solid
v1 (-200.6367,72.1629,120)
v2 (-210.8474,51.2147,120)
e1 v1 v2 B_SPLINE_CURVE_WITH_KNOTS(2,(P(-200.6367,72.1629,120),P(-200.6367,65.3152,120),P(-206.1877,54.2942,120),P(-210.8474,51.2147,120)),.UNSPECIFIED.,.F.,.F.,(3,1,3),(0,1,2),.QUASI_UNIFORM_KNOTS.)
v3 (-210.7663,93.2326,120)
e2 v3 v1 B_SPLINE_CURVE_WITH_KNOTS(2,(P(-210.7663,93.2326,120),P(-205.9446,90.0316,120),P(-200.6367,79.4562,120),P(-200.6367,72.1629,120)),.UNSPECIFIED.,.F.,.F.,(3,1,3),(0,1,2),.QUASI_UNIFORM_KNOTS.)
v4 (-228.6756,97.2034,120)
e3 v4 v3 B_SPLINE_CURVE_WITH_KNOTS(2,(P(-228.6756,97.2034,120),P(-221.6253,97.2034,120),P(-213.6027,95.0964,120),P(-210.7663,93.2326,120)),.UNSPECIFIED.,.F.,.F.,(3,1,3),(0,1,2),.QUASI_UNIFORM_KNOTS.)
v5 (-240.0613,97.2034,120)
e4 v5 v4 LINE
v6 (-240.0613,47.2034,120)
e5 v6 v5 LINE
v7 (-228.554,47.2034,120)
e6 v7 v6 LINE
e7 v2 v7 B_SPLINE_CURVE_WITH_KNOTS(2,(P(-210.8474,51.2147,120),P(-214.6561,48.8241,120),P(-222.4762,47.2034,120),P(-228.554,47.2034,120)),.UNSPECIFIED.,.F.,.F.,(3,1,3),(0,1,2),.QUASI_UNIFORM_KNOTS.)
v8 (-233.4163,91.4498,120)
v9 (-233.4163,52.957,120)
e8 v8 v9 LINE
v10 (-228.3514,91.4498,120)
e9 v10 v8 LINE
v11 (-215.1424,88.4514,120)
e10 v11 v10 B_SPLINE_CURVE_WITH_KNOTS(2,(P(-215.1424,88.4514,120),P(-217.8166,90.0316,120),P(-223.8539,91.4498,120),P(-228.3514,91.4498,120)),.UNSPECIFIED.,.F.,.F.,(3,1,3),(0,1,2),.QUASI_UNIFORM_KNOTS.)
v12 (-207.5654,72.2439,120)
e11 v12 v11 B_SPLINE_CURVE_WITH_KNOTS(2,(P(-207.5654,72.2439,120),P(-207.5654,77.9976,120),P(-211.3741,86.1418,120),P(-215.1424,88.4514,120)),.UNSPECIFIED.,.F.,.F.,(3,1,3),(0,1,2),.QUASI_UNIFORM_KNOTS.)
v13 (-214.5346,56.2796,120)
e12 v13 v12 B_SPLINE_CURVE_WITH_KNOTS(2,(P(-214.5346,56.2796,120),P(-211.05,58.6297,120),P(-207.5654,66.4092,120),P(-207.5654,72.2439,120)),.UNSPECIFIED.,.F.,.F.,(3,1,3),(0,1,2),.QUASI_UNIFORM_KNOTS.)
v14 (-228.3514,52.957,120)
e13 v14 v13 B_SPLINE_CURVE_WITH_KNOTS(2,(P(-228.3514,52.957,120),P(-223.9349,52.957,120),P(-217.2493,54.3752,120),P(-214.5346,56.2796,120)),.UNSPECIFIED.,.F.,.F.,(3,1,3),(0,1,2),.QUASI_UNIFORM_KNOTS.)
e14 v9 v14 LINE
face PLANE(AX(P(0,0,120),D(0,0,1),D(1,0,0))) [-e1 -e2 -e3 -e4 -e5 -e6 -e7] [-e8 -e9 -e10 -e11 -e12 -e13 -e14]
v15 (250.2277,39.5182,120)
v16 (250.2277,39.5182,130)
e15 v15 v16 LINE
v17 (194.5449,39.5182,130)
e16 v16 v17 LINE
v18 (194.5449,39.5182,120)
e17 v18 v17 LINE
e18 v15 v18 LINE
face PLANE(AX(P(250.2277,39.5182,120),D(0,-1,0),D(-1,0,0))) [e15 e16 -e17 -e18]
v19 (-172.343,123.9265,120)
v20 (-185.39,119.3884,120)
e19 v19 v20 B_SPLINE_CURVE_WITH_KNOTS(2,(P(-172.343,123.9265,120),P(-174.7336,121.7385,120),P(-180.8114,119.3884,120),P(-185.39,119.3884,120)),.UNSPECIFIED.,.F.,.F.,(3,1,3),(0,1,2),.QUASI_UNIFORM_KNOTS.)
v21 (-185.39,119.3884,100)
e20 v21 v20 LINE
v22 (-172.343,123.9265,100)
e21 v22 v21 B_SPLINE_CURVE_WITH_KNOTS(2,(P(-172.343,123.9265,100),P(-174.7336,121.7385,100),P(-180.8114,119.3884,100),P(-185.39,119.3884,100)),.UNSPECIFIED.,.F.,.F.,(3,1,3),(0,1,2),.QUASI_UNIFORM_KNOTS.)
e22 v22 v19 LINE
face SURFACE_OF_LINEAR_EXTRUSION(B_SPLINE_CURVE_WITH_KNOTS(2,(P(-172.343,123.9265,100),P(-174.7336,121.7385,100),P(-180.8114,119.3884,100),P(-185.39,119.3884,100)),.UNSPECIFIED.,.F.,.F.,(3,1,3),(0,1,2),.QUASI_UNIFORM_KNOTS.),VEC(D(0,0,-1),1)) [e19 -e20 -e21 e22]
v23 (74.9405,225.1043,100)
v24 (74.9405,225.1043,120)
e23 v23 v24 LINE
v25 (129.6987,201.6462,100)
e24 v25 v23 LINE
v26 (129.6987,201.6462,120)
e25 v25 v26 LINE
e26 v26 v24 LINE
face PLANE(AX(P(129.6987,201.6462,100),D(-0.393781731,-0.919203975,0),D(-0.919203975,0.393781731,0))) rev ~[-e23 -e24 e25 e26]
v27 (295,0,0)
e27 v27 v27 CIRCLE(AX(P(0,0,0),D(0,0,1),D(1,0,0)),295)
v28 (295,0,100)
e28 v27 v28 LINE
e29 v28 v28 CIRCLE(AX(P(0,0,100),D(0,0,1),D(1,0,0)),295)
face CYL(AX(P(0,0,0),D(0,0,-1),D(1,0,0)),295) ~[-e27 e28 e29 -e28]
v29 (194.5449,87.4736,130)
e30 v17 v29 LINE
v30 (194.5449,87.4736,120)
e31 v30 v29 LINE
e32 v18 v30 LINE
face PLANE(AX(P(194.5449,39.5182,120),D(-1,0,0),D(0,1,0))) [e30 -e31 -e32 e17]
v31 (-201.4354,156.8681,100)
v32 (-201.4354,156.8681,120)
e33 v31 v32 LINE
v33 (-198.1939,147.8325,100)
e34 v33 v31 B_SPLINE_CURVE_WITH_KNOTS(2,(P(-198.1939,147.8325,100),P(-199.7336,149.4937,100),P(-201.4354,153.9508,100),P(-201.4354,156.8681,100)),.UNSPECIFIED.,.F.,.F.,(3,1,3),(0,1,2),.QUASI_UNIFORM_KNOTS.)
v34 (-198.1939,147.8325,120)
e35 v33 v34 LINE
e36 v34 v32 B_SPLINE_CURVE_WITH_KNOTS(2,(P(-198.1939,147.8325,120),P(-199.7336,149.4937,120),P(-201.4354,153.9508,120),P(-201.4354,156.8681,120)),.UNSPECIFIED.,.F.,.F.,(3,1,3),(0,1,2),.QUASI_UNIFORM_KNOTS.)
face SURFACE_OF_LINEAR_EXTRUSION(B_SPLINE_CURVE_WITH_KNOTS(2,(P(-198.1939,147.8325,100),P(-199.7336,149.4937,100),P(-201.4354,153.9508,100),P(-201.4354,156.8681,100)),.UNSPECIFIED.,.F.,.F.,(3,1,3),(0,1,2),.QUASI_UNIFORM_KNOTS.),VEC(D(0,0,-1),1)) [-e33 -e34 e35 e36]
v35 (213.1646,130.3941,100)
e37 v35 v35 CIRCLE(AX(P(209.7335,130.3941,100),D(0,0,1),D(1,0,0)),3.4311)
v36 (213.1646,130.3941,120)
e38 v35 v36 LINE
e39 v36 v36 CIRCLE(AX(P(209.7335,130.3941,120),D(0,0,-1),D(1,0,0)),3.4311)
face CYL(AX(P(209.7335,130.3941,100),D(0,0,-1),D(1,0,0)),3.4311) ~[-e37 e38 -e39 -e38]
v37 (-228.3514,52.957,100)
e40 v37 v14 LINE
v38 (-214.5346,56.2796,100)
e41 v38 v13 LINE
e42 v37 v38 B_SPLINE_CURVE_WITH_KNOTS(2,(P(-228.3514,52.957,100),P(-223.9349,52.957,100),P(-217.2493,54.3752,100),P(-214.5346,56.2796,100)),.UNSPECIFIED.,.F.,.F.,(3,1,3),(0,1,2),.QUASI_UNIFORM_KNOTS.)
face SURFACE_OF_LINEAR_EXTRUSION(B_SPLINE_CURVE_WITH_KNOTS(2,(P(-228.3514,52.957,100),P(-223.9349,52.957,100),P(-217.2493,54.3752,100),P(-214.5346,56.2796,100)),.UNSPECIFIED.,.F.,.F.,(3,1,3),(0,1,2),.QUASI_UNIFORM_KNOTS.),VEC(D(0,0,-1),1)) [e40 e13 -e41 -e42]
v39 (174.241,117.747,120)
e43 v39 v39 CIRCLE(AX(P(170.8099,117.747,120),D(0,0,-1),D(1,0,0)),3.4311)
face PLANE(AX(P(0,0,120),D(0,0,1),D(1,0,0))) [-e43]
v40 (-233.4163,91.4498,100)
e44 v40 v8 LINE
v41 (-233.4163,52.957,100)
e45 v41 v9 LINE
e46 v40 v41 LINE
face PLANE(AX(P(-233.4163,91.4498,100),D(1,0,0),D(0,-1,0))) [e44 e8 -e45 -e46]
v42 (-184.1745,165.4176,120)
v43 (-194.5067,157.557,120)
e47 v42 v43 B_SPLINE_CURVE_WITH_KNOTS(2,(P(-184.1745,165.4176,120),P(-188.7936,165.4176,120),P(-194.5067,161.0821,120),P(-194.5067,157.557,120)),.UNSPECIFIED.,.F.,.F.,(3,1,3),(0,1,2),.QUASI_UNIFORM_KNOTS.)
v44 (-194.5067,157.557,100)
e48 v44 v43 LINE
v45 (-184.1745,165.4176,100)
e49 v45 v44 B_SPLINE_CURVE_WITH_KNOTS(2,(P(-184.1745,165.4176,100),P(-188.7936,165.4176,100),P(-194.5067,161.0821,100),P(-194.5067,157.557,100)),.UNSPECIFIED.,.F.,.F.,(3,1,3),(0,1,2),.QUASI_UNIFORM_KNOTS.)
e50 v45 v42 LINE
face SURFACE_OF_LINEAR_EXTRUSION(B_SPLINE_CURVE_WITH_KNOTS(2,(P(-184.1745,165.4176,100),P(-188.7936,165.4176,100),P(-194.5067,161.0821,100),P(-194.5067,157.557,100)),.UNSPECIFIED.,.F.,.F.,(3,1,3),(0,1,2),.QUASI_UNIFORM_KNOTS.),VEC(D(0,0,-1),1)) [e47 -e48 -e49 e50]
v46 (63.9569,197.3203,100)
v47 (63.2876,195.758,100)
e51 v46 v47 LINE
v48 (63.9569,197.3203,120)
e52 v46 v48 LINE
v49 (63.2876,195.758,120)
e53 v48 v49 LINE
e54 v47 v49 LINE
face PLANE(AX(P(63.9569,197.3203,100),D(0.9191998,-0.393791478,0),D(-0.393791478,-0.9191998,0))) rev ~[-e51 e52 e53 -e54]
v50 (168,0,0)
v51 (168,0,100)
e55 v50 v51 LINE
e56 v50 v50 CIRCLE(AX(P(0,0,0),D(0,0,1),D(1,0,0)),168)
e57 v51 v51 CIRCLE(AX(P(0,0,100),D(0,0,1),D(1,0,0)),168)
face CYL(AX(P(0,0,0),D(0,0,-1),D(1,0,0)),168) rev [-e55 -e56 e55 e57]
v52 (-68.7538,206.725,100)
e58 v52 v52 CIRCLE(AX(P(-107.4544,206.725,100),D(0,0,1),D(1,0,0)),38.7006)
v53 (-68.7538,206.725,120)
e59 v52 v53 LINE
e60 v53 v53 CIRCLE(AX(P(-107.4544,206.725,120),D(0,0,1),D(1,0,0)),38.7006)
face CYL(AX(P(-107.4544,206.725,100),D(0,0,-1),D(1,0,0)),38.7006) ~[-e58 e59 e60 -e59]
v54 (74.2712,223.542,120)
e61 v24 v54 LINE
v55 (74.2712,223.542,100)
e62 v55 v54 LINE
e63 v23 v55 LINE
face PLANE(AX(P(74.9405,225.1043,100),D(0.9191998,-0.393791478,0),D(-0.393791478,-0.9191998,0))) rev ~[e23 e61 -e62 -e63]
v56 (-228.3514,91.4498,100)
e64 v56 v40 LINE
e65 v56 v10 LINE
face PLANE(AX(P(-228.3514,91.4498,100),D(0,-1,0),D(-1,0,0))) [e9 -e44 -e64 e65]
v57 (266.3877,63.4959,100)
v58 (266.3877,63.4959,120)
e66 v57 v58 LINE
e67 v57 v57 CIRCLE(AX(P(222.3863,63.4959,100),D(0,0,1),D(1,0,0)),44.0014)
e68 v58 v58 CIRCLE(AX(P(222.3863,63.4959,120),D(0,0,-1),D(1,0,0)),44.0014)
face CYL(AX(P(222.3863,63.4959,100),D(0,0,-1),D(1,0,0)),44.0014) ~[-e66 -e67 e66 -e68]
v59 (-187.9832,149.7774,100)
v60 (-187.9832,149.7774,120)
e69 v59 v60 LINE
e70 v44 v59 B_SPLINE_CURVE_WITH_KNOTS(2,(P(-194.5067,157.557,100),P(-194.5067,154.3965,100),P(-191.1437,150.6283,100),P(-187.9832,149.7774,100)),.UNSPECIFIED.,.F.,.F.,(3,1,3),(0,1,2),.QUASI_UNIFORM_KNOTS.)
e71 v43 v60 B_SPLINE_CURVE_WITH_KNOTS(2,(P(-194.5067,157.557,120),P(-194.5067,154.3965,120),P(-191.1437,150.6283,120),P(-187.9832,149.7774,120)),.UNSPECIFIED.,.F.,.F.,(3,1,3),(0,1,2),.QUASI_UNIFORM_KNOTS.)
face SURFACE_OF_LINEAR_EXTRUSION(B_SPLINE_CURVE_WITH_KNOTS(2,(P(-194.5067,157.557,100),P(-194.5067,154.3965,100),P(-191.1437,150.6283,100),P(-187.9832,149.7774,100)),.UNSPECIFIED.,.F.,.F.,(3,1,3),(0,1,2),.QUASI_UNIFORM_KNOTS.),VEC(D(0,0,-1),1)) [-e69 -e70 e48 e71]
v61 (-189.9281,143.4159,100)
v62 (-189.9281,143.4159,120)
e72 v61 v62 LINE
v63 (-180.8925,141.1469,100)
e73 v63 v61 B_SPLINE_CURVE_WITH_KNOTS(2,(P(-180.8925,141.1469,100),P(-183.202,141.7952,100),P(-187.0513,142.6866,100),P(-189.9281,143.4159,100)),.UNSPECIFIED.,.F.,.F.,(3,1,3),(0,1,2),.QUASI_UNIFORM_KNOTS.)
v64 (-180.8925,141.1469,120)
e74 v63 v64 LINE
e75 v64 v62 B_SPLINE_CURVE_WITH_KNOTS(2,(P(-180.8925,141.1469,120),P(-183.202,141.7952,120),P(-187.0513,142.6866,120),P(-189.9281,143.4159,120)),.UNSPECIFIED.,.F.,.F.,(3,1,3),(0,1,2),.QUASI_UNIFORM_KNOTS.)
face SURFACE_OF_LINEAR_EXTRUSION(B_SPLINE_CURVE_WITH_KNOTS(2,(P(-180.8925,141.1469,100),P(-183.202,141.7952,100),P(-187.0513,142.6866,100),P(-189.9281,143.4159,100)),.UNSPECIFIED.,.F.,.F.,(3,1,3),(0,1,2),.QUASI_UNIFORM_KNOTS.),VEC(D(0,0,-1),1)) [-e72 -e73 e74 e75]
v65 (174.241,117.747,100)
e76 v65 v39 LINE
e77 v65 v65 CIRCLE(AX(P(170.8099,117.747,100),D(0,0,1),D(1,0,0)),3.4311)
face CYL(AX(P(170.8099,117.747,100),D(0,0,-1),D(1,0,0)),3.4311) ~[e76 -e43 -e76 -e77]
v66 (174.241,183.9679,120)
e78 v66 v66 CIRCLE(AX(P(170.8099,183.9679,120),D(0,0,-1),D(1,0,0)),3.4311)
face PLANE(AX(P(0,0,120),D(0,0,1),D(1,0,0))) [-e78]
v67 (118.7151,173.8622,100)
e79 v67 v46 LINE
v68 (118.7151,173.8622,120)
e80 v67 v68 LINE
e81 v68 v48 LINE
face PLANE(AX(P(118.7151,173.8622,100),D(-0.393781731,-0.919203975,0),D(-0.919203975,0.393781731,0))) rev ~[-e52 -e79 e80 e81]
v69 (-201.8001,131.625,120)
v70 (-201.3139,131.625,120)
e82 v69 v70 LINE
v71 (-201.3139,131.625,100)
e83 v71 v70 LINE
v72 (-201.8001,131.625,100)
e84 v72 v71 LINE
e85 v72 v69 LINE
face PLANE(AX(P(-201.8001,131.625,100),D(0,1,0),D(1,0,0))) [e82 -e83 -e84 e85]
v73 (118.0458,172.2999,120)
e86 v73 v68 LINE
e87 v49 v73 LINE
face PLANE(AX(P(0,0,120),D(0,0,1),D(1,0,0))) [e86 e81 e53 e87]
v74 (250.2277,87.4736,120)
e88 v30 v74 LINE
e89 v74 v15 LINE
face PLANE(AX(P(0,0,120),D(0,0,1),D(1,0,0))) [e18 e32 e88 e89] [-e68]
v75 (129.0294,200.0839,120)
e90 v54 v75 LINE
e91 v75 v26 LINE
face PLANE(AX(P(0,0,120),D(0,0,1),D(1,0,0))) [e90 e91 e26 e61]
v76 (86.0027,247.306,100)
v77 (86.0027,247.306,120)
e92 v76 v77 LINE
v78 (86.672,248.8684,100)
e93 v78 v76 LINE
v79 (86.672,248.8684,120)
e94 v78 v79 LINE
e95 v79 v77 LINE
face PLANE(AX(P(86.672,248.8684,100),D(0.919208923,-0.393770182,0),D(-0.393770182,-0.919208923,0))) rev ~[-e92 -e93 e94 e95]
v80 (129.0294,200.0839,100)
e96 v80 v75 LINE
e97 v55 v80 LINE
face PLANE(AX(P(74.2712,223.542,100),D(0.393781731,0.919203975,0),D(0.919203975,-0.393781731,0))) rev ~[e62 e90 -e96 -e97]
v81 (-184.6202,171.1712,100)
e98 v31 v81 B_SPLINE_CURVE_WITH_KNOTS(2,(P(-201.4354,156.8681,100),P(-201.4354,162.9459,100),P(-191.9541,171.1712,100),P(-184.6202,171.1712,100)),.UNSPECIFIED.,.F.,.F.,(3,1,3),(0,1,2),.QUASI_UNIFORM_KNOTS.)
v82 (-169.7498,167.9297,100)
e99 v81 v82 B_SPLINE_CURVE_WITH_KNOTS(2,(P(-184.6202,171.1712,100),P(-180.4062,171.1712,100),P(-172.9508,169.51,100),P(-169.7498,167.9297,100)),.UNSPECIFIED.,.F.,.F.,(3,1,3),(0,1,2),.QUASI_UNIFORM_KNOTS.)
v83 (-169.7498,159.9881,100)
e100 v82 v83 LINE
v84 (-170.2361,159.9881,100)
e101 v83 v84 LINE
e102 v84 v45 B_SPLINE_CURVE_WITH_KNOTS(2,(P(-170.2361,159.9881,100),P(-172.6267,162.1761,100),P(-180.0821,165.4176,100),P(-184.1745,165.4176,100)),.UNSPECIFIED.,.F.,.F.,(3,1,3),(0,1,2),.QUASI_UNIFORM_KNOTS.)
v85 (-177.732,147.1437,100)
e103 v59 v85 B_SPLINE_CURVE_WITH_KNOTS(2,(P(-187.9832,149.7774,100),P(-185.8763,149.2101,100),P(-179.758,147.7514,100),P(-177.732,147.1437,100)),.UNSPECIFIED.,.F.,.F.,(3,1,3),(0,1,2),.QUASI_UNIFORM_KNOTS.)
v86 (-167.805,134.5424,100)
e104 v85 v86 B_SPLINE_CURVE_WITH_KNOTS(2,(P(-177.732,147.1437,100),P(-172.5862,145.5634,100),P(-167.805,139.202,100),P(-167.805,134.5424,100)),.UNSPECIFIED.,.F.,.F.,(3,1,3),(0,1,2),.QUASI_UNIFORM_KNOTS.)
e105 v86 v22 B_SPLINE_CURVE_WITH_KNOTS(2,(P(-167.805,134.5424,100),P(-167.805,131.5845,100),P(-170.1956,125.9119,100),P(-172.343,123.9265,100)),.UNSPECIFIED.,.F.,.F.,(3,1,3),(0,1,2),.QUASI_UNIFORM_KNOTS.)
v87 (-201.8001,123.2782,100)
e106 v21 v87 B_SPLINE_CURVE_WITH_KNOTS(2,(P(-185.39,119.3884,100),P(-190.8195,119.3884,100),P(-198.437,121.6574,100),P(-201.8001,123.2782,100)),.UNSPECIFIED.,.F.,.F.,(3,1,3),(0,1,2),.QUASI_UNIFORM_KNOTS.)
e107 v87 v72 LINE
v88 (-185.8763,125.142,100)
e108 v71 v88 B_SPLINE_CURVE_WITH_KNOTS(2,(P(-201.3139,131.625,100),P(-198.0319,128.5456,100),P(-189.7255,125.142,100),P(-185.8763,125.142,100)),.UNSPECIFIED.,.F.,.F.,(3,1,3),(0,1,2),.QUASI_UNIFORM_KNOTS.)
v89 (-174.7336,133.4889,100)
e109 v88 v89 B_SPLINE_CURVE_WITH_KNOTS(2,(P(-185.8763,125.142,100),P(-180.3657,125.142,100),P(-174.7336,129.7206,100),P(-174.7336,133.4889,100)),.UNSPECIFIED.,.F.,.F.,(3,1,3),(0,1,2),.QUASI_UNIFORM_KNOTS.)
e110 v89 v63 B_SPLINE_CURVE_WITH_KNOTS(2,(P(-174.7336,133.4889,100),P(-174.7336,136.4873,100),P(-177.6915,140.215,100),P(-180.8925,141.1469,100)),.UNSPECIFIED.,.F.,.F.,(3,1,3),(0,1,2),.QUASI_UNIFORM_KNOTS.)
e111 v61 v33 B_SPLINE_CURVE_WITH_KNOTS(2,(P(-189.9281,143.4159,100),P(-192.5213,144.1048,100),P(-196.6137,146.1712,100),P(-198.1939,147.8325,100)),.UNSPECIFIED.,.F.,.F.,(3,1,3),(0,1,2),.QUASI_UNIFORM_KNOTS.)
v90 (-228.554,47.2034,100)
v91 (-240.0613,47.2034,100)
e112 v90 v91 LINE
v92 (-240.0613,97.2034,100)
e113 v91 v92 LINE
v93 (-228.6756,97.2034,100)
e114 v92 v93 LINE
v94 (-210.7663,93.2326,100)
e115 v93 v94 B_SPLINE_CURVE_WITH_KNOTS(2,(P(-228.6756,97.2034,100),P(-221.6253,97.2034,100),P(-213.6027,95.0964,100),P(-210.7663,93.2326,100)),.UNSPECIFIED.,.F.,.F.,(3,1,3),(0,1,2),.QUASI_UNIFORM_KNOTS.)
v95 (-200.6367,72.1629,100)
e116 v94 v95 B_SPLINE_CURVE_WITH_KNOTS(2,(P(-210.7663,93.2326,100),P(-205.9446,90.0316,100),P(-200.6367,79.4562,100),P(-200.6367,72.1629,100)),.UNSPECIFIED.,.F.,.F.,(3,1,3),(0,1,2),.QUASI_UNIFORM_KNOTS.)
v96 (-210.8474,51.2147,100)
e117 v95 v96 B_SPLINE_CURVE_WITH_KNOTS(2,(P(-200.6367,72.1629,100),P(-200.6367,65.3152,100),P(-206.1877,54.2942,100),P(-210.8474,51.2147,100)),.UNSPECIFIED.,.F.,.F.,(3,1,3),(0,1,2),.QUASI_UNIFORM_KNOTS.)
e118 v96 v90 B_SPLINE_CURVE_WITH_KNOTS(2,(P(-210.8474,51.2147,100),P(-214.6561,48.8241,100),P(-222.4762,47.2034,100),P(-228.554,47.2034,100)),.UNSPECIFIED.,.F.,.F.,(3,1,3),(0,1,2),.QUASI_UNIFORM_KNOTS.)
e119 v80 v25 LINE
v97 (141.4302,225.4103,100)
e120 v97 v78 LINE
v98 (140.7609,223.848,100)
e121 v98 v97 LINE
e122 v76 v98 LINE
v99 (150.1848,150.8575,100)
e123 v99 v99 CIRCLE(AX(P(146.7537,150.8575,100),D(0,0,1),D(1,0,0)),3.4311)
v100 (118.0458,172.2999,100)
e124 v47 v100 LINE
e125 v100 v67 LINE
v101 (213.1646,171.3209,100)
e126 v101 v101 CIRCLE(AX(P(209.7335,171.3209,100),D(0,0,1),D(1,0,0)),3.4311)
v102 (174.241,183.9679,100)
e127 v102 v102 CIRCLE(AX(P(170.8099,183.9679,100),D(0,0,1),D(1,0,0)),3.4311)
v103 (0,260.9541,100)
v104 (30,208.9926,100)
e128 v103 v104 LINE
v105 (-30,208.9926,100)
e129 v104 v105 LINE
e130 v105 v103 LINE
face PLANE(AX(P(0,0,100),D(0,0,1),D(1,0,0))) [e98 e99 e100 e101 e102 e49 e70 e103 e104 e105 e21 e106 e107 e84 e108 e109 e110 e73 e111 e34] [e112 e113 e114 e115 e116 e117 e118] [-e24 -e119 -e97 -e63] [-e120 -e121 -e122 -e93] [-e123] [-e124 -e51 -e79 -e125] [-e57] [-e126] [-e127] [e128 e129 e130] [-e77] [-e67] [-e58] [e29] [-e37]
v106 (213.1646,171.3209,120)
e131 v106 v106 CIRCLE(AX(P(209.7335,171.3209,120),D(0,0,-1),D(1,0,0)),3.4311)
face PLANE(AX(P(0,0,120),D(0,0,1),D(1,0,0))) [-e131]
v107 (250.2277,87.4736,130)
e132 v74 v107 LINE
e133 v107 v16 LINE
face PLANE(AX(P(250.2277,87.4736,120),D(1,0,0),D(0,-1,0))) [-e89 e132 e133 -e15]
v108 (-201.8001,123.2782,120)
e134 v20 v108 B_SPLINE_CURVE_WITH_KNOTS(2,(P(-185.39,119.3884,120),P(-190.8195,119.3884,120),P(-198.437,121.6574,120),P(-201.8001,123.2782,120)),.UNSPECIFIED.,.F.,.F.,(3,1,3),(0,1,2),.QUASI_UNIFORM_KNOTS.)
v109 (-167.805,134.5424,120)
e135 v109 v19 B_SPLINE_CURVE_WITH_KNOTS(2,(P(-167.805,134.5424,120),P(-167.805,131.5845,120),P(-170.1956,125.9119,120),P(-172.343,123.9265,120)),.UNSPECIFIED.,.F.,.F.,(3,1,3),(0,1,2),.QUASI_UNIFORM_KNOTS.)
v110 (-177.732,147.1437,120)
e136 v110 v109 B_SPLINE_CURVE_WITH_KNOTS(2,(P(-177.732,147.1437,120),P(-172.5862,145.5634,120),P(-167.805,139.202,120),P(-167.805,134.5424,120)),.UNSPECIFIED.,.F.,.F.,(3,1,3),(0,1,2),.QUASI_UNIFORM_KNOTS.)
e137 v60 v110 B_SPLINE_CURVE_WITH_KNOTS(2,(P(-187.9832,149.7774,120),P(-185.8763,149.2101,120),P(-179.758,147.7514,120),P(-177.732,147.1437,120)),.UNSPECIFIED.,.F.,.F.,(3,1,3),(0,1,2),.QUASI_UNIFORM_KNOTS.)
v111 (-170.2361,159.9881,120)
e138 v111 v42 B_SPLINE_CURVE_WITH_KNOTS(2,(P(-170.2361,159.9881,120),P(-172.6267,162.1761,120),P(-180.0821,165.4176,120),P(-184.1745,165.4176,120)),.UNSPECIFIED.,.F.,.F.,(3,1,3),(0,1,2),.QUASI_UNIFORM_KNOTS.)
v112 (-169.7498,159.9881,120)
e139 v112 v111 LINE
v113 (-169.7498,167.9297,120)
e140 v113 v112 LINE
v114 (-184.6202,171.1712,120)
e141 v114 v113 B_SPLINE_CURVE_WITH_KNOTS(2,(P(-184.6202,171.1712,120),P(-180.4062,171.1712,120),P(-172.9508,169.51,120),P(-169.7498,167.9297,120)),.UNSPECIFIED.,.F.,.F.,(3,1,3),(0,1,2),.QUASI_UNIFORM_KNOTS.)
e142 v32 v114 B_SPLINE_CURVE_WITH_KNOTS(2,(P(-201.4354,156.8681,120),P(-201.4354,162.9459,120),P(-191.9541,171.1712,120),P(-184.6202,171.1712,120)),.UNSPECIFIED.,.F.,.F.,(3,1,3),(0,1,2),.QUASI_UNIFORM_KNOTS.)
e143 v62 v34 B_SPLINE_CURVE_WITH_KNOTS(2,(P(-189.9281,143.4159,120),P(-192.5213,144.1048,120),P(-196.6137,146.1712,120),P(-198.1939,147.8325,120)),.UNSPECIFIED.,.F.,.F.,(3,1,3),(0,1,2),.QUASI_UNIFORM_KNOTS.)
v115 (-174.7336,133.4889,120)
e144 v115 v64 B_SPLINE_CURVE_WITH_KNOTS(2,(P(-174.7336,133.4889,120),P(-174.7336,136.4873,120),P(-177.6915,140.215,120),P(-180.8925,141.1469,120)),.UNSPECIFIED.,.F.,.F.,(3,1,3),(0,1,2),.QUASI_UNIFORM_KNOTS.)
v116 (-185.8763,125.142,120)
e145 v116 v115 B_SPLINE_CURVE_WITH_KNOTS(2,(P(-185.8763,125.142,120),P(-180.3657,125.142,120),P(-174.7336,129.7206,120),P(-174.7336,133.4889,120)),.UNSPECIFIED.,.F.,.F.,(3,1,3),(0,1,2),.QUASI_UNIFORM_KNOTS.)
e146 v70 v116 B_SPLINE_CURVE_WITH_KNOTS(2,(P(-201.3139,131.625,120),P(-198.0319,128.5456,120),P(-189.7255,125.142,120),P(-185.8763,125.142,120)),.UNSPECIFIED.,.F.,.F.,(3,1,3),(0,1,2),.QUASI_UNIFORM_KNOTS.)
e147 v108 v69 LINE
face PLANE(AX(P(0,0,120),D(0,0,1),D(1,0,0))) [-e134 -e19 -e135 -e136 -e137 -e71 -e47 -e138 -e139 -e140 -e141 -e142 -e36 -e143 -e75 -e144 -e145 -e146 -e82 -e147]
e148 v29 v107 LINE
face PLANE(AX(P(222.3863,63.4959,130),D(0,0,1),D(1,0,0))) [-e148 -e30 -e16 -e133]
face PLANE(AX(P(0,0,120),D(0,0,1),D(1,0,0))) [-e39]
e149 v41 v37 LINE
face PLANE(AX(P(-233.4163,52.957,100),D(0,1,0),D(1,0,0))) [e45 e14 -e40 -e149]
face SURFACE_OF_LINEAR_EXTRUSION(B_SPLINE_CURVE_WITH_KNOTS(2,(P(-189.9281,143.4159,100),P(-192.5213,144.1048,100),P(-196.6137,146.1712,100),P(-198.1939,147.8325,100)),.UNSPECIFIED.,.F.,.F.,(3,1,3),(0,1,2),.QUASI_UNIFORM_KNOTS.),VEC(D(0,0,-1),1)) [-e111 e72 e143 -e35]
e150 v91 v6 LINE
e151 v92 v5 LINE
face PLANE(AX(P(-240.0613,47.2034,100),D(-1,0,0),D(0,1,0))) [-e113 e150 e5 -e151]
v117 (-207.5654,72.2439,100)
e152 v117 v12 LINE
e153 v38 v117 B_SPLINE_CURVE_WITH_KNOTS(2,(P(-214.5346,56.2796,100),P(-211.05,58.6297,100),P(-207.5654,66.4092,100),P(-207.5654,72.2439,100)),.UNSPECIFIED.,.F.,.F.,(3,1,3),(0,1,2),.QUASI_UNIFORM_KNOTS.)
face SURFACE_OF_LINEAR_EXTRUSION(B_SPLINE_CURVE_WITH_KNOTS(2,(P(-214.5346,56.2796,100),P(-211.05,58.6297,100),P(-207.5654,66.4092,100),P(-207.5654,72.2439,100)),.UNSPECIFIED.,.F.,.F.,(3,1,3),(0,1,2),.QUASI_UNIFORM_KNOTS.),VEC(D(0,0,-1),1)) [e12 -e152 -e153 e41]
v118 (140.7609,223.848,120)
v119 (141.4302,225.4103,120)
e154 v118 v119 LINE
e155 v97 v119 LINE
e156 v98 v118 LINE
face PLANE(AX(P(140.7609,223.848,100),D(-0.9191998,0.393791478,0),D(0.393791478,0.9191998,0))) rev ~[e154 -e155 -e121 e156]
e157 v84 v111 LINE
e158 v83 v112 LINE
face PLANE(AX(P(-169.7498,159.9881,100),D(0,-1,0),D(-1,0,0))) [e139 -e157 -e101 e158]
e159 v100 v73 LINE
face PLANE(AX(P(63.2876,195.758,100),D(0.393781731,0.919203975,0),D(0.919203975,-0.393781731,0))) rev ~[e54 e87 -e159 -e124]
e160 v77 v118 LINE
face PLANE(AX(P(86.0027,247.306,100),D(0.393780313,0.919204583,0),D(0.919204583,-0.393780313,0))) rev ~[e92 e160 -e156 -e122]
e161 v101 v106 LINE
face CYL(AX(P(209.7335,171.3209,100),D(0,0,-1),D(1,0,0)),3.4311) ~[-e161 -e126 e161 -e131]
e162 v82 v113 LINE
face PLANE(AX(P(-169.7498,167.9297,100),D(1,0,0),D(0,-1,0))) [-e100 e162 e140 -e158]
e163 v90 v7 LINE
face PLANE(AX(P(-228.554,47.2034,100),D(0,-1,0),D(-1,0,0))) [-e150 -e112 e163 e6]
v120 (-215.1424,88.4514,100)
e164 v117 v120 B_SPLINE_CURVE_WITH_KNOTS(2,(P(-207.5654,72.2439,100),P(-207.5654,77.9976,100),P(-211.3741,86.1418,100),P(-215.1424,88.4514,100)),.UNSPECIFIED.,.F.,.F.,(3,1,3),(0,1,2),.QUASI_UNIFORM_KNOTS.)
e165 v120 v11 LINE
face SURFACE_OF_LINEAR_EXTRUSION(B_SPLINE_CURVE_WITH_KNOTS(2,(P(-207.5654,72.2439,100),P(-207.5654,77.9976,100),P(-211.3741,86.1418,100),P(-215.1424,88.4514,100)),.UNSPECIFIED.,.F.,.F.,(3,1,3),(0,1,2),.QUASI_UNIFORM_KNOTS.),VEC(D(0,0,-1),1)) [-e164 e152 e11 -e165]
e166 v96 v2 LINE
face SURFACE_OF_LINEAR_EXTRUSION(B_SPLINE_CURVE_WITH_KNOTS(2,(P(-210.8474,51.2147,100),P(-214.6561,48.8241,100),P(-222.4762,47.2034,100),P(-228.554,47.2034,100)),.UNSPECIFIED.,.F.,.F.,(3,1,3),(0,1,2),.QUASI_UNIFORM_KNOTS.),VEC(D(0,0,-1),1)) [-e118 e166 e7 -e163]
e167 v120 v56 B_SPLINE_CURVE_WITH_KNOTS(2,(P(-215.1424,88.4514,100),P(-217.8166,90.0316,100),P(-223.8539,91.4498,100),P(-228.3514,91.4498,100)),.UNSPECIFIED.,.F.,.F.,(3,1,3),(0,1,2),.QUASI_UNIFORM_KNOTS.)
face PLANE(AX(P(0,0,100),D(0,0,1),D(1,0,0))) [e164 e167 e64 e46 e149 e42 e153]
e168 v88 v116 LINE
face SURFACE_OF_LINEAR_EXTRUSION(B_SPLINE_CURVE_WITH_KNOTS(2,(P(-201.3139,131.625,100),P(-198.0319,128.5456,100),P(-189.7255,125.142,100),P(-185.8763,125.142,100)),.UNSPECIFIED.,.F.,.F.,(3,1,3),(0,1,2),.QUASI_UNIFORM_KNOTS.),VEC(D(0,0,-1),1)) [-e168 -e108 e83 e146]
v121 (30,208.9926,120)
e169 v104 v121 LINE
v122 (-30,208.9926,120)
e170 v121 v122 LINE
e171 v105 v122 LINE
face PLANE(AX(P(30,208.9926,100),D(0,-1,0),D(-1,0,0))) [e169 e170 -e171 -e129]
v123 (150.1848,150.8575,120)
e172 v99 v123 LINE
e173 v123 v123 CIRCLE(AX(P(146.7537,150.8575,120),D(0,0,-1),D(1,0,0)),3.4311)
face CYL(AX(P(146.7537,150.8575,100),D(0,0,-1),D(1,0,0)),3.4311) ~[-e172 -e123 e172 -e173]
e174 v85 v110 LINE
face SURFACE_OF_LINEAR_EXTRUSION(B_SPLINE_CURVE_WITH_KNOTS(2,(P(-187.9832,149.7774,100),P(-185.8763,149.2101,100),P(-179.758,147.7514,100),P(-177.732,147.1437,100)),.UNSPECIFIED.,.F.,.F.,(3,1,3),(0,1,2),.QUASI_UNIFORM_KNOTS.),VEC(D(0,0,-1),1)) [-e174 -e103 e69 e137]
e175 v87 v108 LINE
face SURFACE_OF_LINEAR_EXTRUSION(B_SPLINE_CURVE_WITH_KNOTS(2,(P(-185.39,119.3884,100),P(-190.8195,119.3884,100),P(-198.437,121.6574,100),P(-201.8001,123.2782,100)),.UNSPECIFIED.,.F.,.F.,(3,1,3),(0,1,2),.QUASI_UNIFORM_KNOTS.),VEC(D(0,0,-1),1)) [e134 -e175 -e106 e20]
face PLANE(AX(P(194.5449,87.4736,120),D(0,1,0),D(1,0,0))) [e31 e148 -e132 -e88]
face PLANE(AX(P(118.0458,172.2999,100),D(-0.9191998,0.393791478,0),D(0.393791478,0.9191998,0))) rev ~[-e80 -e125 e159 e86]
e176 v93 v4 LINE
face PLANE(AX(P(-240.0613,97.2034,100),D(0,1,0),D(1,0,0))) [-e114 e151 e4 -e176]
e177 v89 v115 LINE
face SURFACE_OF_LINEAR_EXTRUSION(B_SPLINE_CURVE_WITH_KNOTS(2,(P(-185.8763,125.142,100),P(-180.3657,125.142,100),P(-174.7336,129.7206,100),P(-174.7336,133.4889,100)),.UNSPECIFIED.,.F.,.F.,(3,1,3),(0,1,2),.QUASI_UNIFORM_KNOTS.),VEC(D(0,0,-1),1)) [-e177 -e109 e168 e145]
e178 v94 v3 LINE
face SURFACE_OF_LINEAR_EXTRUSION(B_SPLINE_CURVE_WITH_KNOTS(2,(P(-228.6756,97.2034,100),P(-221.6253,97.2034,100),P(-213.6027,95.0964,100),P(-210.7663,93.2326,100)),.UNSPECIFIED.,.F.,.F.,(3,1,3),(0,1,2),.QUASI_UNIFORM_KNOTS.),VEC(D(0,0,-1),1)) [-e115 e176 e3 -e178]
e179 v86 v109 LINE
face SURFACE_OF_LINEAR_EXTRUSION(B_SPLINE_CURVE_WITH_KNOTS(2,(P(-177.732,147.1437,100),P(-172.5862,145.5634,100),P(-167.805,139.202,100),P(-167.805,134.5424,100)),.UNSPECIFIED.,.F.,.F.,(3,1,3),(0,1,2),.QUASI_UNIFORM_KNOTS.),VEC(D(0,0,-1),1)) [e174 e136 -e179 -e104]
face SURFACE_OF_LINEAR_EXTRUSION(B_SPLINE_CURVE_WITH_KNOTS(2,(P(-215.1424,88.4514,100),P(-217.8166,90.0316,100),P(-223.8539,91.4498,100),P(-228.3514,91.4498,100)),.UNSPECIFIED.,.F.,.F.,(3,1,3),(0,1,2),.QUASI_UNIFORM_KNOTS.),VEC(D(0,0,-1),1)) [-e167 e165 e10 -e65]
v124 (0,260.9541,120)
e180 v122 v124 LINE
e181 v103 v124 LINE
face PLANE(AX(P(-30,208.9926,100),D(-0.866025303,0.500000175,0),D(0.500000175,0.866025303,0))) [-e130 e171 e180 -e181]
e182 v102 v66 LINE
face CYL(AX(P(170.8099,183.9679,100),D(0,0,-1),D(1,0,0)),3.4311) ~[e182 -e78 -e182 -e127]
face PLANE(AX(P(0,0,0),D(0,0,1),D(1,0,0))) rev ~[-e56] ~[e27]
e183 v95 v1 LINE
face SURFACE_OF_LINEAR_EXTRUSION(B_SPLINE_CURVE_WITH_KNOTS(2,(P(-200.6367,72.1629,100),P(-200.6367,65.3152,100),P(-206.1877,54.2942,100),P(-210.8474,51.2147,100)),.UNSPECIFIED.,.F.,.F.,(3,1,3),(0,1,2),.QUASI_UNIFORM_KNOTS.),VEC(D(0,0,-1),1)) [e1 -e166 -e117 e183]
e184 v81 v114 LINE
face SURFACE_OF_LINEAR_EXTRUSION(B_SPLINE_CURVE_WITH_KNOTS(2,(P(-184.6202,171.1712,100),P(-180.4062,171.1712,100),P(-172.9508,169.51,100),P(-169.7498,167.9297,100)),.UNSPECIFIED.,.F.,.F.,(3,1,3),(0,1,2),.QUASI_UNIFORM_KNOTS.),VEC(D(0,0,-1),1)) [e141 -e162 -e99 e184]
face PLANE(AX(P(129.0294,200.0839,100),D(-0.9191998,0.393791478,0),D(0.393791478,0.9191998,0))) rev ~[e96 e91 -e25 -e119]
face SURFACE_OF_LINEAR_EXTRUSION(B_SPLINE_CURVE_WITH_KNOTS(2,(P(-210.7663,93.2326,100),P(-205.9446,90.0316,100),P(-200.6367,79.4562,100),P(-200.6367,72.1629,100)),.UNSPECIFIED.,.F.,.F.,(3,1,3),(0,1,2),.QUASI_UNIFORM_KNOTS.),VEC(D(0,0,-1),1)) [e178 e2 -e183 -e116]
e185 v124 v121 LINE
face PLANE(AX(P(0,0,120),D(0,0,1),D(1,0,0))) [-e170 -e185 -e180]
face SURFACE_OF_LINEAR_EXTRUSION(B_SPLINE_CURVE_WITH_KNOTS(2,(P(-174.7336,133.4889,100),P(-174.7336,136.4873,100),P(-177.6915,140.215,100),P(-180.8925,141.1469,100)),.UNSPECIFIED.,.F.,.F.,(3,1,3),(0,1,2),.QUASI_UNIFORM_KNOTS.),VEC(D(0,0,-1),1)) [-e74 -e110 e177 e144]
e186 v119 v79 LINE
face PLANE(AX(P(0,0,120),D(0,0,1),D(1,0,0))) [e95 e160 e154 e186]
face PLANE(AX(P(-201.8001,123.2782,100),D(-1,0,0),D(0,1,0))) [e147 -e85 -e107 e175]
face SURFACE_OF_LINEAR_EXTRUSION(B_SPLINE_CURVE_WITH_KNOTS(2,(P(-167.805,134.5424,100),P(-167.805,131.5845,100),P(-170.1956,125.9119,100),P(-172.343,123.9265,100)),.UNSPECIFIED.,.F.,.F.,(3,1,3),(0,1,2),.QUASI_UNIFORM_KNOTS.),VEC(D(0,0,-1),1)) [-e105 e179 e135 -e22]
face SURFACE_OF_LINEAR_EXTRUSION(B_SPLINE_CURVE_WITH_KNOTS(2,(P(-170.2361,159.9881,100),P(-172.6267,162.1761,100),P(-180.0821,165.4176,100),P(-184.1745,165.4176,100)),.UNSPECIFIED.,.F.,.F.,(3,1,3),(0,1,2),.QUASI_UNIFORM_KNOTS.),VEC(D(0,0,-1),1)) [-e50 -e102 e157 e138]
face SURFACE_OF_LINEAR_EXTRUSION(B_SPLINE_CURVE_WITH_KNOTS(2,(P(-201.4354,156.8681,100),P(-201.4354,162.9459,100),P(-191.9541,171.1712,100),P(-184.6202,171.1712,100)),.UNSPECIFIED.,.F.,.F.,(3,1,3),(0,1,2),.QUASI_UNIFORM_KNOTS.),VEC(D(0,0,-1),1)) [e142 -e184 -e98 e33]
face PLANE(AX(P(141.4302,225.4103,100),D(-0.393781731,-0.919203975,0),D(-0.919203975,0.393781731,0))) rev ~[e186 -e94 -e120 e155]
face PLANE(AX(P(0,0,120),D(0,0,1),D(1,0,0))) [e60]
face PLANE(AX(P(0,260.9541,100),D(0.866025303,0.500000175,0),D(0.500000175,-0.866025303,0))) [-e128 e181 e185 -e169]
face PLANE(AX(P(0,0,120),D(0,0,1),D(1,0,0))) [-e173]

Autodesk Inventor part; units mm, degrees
ref_plane "YZ Plane" through (0, 0, 0) normal (1, 0, 0) x (0, 1, 0)
ref_plane "XZ Plane" through (0, 0, 0) normal (0, 1, 0) x (-1, 0, 0)
ref_plane "XY Plane" through (0, 0, 0) normal (0, 0, 1) x (1, 0, 0)
sketch "Sketch1" plane through (0, 0, 0) normal (0, 0, 1) x (1, 0, 0)
  circle A0 centre (0, 0) radius 295
  circle A1 centre (0, 0) radius 168
  dimension "d0" = 590
  dimension "d1" = 336
extrude "Extrusion1" add sketch "Sketch1" along normal blind 100
sketch "Sketch2" plane through (0, 0, 100) normal (0, 0, 1) x (1, 0, 0)
  line L0 (-204.3933, 171.1712) -> (-160.5291, 171.1712) construction
  line L1 (-160.5291, 171.1712) -> (-160.5291, 111.0696) construction
  line L2 (-160.5291, 111.0696) -> (-204.3933, 111.0696) construction
  line L3 (-204.3933, 111.0696) -> (-204.3933, 171.1712) construction
  line L4 (-245.1262, 97.2034) -> (-201.262, 97.2034) construction
  line L5 (-201.262, 97.2034) -> (-201.262, 37.1018) construction
  line L6 (-201.262, 37.1018) -> (-245.1262, 37.1018) construction
  line L7 (-245.1262, 37.1018) -> (-245.1262, 97.2034) construction
  spline S0 degree 2 poles (-185.39, 119.3884) (-190.8195, 119.3884) (-198.437, 121.6574) (-201.8001, 123.2782) knots 0 0 0 1 2 2 2
  line L8 (-201.8001, 123.2782) -> (-201.8001, 131.625)
  line L9 (-201.8001, 131.625) -> (-201.3139, 131.625)
  spline S1 degree 2 poles (-201.3139, 131.625) (-198.0319, 128.5456) (-189.7255, 125.142) (-185.8763, 125.142) knots 0 0 0 1 2 2 2
  spline S2 degree 2 poles (-185.8763, 125.142) (-180.3657, 125.142) (-174.7336, 129.7206) (-174.7336, 133.4889) knots 0 0 0 1 2 2 2
  spline S3 degree 2 poles (-174.7336, 133.4889) (-174.7336, 136.4873) (-177.6915, 140.215) (-180.8925, 141.1469) knots 0 0 0 1 2 2 2
  spline S4 degree 2 poles (-180.8925, 141.1469) (-183.202, 141.7952) (-187.0513, 142.6866) (-189.9281, 143.4159) knots 0 0 0 1 2 2 2
  spline S5 degree 2 poles (-189.9281, 143.4159) (-192.5213, 144.1048) (-196.6137, 146.1712) (-198.1939, 147.8325) knots 0 0 0 1 2 2 2
  spline S6 degree 2 poles (-198.1939, 147.8325) (-199.7336, 149.4937) (-201.4354, 153.9508) (-201.4354, 156.8681) knots 0 0 0 1 2 2 2
  spline S7 degree 2 poles (-201.4354, 156.8681) (-201.4354, 162.9459) (-191.9541, 171.1712) (-184.6202, 171.1712) knots 0 0 0 1 2 2 2
  spline S8 degree 2 poles (-184.6202, 171.1712) (-180.4062, 171.1712) (-172.9508, 169.51) (-169.7498, 167.9297) knots 0 0 0 1 2 2 2
  line L10 (-169.7498, 167.9297) -> (-169.7498, 159.9881)
  line L11 (-169.7498, 159.9881) -> (-170.2361, 159.9881)
  spline S9 degree 2 poles (-170.2361, 159.9881) (-172.6267, 162.1761) (-180.0821, 165.4176) (-184.1745, 165.4176) knots 0 0 0 1 2 2 2
  spline S10 degree 2 poles (-184.1745, 165.4176) (-188.7936, 165.4176) (-194.5067, 161.0821) (-194.5067, 157.557) knots 0 0 0 1 2 2 2
  spline S11 degree 2 poles (-194.5067, 157.557) (-194.5067, 154.3965) (-191.1437, 150.6283) (-187.9832, 149.7774) knots 0 0 0 1 2 2 2
  spline S12 degree 2 poles (-187.9832, 149.7774) (-185.8763, 149.2101) (-179.758, 147.7514) (-177.732, 147.1437) knots 0 0 0 1 2 2 2
  spline S13 degree 2 poles (-177.732, 147.1437) (-172.5862, 145.5634) (-167.805, 139.202) (-167.805, 134.5424) knots 0 0 0 1 2 2 2
  spline S14 degree 2 poles (-167.805, 134.5424) (-167.805, 131.5845) (-170.1956, 125.9119) (-172.343, 123.9265) knots 0 0 0 1 2 2 2
  spline S15 degree 2 poles (-172.343, 123.9265) (-174.7336, 121.7385) (-180.8114, 119.3884) (-185.39, 119.3884) knots 0 0 0 1 2 2 2
  spline S16 degree 2 poles (-200.6367, 72.1629) (-200.6367, 65.3152) (-206.1877, 54.2942) (-210.8474, 51.2147) knots 0 0 0 1 2 2 2
  spline S17 degree 2 poles (-210.8474, 51.2147) (-214.6561, 48.8241) (-222.4762, 47.2034) (-228.554, 47.2034) knots 0 0 0 1 2 2 2
  line L12 (-228.554, 47.2034) -> (-240.0613, 47.2034)
  line L13 (-240.0613, 47.2034) -> (-240.0613, 97.2034)
  line L14 (-240.0613, 97.2034) -> (-228.6756, 97.2034)
  spline S18 degree 2 poles (-228.6756, 97.2034) (-221.6253, 97.2034) (-213.6027, 95.0964) (-210.7663, 93.2326) knots 0 0 0 1 2 2 2
  spline S19 degree 2 poles (-210.7663, 93.2326) (-205.9446, 90.0316) (-200.6367, 79.4562) (-200.6367, 72.1629) knots 0 0 0 1 2 2 2
  spline S20 degree 2 poles (-207.5654, 72.2439) (-207.5654, 77.9976) (-211.3741, 86.1418) (-215.1424, 88.4514) knots 0 0 0 1 2 2 2
  spline S21 degree 2 poles (-215.1424, 88.4514) (-217.8166, 90.0316) (-223.8539, 91.4498) (-228.3514, 91.4498) knots 0 0 0 1 2 2 2
  line L15 (-228.3514, 91.4498) -> (-233.4163, 91.4498)
  line L16 (-233.4163, 91.4498) -> (-233.4163, 52.957)
  line L17 (-233.4163, 52.957) -> (-228.3514, 52.957)
  spline S22 degree 2 poles (-228.3514, 52.957) (-223.9349, 52.957) (-217.2493, 54.3752) (-214.5346, 56.2796) knots 0 0 0 1 2 2 2
  spline S23 degree 2 poles (-214.5346, 56.2796) (-211.05, 58.6297) (-207.5654, 66.4092) (-207.5654, 72.2439) knots 0 0 0 1 2 2 2
  point P0 (0, 0)
extrude "Extrusion2" add sketch "Sketch2" along normal blind 20
sketch "Sketch3" plane through (0, 0, 100) normal (0, 0, 1) x (1, 0, 0)
  circle A0 centre (-107.4544, 206.725) radius 38.7006
  line L0 (0, 260.9541) -> (30, 208.9926)
  line L1 (0, 260.9541) -> (60, 260.9541) construction
  line L2 (30, 208.9926) -> (-30, 208.9926)
  line L3 (-30, 208.9926) -> (0, 260.9541)
  line L4 (74.2712, 223.542) -> (129.0294, 200.0839)
  line L5 (129.0294, 200.0839) -> (129.6987, 201.6462)
  line L6 (129.6987, 201.6462) -> (74.9405, 225.1043)
  line L7 (74.9405, 225.1043) -> (74.2712, 223.542)
  line L8 (74.2712, 223.542) -> (129.6987, 201.6462) construction
  line L9 (129.0294, 200.0839) -> (74.9405, 225.1043) construction
  line L10 (63.2876, 195.758) -> (118.0458, 172.2999)
  line L11 (118.0458, 172.2999) -> (118.7151, 173.8622)
  line L12 (118.7151, 173.8622) -> (63.9569, 197.3203)
  line L13 (63.9569, 197.3203) -> (63.2876, 195.758)
  line L14 (63.2876, 195.758) -> (118.7151, 173.8622) construction
  line L15 (118.0458, 172.2999) -> (63.9569, 197.3203) construction
  line L16 (86.0027, 247.306) -> (140.7609, 223.848)
  line L17 (140.7609, 223.848) -> (141.4302, 225.4103)
  line L18 (141.4302, 225.4103) -> (86.672, 248.8684)
  line L19 (86.672, 248.8684) -> (86.0027, 247.306)
  circle A1 centre (181.5681, 150.8575) radius 34.8144
  circle A2 centre (146.7537, 150.8575) radius 3.4311
  circle A3 centre (170.8099, 117.747) radius 3.4311
  circle A4 centre (209.7335, 130.3941) radius 3.4311
  circle A5 centre (209.7335, 171.3209) radius 3.4311
  circle A6 centre (170.8099, 183.9679) radius 3.4311
  circle A7 centre (222.3863, 63.4959) radius 44.0014
  line L20 (189.9505, 93.2287) -> (254.8222, 93.2287)
  line L21 (254.8222, 93.2287) -> (254.8222, 33.763)
  line L22 (254.8222, 33.763) -> (189.9505, 33.763)
  line L23 (189.9505, 33.763) -> (189.9505, 93.2287)
  line L24 (189.9505, 93.2287) -> (254.8222, 33.763) construction
  line L25 (254.8222, 93.2287) -> (189.9505, 33.763) construction
  point P0 (0, 0)
  point P1 (101.985, 212.5941)
  point P2 (91.0013, 184.8101)
  point P3 (189.9505, 93.2287)
  point P4 (189.9505, 93.2287)
  point P5 (254.8222, 93.2287)
  point P6 (254.8222, 93.2287)
  point P7 (189.9505, 33.763)
  point P8 (189.9505, 33.763)
  dimension "d6" = 60
  dimension "d7" = 60
  dimension "d8" = 60
  dimension "d9" = 60
  dimension "d12" = 360
extrude "Extrusion3" add sketch "Sketch3" along normal blind 20 contours A0 | L0 L2 L3 | L7 L6 L5 L4 | L13 L12 L11 L10 | L19 L18 L17 L16 | A5 A1 | A1 A5 | A4 A1 | A1 A4 | A6 A1 | A1 A6 | A3 A1 | A1 A3 | A2 A1 | A1 A2 | A7 L21 | L20 A7 | L21 L22 L23 L20 | A7 L22 | L23 A7
sketch "Sketch4" plane through (222.3863, 63.4959, 120) normal (0, 0, 1) x (1, 0, 0)
  line L0 (-27.8414, 23.9777) -> (27.8414, 23.9777)
  line L1 (27.8414, 23.9777) -> (27.8414, -23.9777)
  line L2 (27.8414, -23.9777) -> (-27.8414, -23.9777)
  line L3 (-27.8414, -23.9777) -> (-27.8414, 23.9777)
  line L4 (-27.8414, 23.9777) -> (27.8414, -23.9777) construction
  line L5 (27.8414, 23.9777) -> (-27.8414, -23.9777) construction
  point P0 (-222.3863, -63.4959)
  point P1 (0, 0)
extrude "Extrusion4" add sketch "Sketch4" along normal blind 10
properties part number "lab5CADfiguras"
